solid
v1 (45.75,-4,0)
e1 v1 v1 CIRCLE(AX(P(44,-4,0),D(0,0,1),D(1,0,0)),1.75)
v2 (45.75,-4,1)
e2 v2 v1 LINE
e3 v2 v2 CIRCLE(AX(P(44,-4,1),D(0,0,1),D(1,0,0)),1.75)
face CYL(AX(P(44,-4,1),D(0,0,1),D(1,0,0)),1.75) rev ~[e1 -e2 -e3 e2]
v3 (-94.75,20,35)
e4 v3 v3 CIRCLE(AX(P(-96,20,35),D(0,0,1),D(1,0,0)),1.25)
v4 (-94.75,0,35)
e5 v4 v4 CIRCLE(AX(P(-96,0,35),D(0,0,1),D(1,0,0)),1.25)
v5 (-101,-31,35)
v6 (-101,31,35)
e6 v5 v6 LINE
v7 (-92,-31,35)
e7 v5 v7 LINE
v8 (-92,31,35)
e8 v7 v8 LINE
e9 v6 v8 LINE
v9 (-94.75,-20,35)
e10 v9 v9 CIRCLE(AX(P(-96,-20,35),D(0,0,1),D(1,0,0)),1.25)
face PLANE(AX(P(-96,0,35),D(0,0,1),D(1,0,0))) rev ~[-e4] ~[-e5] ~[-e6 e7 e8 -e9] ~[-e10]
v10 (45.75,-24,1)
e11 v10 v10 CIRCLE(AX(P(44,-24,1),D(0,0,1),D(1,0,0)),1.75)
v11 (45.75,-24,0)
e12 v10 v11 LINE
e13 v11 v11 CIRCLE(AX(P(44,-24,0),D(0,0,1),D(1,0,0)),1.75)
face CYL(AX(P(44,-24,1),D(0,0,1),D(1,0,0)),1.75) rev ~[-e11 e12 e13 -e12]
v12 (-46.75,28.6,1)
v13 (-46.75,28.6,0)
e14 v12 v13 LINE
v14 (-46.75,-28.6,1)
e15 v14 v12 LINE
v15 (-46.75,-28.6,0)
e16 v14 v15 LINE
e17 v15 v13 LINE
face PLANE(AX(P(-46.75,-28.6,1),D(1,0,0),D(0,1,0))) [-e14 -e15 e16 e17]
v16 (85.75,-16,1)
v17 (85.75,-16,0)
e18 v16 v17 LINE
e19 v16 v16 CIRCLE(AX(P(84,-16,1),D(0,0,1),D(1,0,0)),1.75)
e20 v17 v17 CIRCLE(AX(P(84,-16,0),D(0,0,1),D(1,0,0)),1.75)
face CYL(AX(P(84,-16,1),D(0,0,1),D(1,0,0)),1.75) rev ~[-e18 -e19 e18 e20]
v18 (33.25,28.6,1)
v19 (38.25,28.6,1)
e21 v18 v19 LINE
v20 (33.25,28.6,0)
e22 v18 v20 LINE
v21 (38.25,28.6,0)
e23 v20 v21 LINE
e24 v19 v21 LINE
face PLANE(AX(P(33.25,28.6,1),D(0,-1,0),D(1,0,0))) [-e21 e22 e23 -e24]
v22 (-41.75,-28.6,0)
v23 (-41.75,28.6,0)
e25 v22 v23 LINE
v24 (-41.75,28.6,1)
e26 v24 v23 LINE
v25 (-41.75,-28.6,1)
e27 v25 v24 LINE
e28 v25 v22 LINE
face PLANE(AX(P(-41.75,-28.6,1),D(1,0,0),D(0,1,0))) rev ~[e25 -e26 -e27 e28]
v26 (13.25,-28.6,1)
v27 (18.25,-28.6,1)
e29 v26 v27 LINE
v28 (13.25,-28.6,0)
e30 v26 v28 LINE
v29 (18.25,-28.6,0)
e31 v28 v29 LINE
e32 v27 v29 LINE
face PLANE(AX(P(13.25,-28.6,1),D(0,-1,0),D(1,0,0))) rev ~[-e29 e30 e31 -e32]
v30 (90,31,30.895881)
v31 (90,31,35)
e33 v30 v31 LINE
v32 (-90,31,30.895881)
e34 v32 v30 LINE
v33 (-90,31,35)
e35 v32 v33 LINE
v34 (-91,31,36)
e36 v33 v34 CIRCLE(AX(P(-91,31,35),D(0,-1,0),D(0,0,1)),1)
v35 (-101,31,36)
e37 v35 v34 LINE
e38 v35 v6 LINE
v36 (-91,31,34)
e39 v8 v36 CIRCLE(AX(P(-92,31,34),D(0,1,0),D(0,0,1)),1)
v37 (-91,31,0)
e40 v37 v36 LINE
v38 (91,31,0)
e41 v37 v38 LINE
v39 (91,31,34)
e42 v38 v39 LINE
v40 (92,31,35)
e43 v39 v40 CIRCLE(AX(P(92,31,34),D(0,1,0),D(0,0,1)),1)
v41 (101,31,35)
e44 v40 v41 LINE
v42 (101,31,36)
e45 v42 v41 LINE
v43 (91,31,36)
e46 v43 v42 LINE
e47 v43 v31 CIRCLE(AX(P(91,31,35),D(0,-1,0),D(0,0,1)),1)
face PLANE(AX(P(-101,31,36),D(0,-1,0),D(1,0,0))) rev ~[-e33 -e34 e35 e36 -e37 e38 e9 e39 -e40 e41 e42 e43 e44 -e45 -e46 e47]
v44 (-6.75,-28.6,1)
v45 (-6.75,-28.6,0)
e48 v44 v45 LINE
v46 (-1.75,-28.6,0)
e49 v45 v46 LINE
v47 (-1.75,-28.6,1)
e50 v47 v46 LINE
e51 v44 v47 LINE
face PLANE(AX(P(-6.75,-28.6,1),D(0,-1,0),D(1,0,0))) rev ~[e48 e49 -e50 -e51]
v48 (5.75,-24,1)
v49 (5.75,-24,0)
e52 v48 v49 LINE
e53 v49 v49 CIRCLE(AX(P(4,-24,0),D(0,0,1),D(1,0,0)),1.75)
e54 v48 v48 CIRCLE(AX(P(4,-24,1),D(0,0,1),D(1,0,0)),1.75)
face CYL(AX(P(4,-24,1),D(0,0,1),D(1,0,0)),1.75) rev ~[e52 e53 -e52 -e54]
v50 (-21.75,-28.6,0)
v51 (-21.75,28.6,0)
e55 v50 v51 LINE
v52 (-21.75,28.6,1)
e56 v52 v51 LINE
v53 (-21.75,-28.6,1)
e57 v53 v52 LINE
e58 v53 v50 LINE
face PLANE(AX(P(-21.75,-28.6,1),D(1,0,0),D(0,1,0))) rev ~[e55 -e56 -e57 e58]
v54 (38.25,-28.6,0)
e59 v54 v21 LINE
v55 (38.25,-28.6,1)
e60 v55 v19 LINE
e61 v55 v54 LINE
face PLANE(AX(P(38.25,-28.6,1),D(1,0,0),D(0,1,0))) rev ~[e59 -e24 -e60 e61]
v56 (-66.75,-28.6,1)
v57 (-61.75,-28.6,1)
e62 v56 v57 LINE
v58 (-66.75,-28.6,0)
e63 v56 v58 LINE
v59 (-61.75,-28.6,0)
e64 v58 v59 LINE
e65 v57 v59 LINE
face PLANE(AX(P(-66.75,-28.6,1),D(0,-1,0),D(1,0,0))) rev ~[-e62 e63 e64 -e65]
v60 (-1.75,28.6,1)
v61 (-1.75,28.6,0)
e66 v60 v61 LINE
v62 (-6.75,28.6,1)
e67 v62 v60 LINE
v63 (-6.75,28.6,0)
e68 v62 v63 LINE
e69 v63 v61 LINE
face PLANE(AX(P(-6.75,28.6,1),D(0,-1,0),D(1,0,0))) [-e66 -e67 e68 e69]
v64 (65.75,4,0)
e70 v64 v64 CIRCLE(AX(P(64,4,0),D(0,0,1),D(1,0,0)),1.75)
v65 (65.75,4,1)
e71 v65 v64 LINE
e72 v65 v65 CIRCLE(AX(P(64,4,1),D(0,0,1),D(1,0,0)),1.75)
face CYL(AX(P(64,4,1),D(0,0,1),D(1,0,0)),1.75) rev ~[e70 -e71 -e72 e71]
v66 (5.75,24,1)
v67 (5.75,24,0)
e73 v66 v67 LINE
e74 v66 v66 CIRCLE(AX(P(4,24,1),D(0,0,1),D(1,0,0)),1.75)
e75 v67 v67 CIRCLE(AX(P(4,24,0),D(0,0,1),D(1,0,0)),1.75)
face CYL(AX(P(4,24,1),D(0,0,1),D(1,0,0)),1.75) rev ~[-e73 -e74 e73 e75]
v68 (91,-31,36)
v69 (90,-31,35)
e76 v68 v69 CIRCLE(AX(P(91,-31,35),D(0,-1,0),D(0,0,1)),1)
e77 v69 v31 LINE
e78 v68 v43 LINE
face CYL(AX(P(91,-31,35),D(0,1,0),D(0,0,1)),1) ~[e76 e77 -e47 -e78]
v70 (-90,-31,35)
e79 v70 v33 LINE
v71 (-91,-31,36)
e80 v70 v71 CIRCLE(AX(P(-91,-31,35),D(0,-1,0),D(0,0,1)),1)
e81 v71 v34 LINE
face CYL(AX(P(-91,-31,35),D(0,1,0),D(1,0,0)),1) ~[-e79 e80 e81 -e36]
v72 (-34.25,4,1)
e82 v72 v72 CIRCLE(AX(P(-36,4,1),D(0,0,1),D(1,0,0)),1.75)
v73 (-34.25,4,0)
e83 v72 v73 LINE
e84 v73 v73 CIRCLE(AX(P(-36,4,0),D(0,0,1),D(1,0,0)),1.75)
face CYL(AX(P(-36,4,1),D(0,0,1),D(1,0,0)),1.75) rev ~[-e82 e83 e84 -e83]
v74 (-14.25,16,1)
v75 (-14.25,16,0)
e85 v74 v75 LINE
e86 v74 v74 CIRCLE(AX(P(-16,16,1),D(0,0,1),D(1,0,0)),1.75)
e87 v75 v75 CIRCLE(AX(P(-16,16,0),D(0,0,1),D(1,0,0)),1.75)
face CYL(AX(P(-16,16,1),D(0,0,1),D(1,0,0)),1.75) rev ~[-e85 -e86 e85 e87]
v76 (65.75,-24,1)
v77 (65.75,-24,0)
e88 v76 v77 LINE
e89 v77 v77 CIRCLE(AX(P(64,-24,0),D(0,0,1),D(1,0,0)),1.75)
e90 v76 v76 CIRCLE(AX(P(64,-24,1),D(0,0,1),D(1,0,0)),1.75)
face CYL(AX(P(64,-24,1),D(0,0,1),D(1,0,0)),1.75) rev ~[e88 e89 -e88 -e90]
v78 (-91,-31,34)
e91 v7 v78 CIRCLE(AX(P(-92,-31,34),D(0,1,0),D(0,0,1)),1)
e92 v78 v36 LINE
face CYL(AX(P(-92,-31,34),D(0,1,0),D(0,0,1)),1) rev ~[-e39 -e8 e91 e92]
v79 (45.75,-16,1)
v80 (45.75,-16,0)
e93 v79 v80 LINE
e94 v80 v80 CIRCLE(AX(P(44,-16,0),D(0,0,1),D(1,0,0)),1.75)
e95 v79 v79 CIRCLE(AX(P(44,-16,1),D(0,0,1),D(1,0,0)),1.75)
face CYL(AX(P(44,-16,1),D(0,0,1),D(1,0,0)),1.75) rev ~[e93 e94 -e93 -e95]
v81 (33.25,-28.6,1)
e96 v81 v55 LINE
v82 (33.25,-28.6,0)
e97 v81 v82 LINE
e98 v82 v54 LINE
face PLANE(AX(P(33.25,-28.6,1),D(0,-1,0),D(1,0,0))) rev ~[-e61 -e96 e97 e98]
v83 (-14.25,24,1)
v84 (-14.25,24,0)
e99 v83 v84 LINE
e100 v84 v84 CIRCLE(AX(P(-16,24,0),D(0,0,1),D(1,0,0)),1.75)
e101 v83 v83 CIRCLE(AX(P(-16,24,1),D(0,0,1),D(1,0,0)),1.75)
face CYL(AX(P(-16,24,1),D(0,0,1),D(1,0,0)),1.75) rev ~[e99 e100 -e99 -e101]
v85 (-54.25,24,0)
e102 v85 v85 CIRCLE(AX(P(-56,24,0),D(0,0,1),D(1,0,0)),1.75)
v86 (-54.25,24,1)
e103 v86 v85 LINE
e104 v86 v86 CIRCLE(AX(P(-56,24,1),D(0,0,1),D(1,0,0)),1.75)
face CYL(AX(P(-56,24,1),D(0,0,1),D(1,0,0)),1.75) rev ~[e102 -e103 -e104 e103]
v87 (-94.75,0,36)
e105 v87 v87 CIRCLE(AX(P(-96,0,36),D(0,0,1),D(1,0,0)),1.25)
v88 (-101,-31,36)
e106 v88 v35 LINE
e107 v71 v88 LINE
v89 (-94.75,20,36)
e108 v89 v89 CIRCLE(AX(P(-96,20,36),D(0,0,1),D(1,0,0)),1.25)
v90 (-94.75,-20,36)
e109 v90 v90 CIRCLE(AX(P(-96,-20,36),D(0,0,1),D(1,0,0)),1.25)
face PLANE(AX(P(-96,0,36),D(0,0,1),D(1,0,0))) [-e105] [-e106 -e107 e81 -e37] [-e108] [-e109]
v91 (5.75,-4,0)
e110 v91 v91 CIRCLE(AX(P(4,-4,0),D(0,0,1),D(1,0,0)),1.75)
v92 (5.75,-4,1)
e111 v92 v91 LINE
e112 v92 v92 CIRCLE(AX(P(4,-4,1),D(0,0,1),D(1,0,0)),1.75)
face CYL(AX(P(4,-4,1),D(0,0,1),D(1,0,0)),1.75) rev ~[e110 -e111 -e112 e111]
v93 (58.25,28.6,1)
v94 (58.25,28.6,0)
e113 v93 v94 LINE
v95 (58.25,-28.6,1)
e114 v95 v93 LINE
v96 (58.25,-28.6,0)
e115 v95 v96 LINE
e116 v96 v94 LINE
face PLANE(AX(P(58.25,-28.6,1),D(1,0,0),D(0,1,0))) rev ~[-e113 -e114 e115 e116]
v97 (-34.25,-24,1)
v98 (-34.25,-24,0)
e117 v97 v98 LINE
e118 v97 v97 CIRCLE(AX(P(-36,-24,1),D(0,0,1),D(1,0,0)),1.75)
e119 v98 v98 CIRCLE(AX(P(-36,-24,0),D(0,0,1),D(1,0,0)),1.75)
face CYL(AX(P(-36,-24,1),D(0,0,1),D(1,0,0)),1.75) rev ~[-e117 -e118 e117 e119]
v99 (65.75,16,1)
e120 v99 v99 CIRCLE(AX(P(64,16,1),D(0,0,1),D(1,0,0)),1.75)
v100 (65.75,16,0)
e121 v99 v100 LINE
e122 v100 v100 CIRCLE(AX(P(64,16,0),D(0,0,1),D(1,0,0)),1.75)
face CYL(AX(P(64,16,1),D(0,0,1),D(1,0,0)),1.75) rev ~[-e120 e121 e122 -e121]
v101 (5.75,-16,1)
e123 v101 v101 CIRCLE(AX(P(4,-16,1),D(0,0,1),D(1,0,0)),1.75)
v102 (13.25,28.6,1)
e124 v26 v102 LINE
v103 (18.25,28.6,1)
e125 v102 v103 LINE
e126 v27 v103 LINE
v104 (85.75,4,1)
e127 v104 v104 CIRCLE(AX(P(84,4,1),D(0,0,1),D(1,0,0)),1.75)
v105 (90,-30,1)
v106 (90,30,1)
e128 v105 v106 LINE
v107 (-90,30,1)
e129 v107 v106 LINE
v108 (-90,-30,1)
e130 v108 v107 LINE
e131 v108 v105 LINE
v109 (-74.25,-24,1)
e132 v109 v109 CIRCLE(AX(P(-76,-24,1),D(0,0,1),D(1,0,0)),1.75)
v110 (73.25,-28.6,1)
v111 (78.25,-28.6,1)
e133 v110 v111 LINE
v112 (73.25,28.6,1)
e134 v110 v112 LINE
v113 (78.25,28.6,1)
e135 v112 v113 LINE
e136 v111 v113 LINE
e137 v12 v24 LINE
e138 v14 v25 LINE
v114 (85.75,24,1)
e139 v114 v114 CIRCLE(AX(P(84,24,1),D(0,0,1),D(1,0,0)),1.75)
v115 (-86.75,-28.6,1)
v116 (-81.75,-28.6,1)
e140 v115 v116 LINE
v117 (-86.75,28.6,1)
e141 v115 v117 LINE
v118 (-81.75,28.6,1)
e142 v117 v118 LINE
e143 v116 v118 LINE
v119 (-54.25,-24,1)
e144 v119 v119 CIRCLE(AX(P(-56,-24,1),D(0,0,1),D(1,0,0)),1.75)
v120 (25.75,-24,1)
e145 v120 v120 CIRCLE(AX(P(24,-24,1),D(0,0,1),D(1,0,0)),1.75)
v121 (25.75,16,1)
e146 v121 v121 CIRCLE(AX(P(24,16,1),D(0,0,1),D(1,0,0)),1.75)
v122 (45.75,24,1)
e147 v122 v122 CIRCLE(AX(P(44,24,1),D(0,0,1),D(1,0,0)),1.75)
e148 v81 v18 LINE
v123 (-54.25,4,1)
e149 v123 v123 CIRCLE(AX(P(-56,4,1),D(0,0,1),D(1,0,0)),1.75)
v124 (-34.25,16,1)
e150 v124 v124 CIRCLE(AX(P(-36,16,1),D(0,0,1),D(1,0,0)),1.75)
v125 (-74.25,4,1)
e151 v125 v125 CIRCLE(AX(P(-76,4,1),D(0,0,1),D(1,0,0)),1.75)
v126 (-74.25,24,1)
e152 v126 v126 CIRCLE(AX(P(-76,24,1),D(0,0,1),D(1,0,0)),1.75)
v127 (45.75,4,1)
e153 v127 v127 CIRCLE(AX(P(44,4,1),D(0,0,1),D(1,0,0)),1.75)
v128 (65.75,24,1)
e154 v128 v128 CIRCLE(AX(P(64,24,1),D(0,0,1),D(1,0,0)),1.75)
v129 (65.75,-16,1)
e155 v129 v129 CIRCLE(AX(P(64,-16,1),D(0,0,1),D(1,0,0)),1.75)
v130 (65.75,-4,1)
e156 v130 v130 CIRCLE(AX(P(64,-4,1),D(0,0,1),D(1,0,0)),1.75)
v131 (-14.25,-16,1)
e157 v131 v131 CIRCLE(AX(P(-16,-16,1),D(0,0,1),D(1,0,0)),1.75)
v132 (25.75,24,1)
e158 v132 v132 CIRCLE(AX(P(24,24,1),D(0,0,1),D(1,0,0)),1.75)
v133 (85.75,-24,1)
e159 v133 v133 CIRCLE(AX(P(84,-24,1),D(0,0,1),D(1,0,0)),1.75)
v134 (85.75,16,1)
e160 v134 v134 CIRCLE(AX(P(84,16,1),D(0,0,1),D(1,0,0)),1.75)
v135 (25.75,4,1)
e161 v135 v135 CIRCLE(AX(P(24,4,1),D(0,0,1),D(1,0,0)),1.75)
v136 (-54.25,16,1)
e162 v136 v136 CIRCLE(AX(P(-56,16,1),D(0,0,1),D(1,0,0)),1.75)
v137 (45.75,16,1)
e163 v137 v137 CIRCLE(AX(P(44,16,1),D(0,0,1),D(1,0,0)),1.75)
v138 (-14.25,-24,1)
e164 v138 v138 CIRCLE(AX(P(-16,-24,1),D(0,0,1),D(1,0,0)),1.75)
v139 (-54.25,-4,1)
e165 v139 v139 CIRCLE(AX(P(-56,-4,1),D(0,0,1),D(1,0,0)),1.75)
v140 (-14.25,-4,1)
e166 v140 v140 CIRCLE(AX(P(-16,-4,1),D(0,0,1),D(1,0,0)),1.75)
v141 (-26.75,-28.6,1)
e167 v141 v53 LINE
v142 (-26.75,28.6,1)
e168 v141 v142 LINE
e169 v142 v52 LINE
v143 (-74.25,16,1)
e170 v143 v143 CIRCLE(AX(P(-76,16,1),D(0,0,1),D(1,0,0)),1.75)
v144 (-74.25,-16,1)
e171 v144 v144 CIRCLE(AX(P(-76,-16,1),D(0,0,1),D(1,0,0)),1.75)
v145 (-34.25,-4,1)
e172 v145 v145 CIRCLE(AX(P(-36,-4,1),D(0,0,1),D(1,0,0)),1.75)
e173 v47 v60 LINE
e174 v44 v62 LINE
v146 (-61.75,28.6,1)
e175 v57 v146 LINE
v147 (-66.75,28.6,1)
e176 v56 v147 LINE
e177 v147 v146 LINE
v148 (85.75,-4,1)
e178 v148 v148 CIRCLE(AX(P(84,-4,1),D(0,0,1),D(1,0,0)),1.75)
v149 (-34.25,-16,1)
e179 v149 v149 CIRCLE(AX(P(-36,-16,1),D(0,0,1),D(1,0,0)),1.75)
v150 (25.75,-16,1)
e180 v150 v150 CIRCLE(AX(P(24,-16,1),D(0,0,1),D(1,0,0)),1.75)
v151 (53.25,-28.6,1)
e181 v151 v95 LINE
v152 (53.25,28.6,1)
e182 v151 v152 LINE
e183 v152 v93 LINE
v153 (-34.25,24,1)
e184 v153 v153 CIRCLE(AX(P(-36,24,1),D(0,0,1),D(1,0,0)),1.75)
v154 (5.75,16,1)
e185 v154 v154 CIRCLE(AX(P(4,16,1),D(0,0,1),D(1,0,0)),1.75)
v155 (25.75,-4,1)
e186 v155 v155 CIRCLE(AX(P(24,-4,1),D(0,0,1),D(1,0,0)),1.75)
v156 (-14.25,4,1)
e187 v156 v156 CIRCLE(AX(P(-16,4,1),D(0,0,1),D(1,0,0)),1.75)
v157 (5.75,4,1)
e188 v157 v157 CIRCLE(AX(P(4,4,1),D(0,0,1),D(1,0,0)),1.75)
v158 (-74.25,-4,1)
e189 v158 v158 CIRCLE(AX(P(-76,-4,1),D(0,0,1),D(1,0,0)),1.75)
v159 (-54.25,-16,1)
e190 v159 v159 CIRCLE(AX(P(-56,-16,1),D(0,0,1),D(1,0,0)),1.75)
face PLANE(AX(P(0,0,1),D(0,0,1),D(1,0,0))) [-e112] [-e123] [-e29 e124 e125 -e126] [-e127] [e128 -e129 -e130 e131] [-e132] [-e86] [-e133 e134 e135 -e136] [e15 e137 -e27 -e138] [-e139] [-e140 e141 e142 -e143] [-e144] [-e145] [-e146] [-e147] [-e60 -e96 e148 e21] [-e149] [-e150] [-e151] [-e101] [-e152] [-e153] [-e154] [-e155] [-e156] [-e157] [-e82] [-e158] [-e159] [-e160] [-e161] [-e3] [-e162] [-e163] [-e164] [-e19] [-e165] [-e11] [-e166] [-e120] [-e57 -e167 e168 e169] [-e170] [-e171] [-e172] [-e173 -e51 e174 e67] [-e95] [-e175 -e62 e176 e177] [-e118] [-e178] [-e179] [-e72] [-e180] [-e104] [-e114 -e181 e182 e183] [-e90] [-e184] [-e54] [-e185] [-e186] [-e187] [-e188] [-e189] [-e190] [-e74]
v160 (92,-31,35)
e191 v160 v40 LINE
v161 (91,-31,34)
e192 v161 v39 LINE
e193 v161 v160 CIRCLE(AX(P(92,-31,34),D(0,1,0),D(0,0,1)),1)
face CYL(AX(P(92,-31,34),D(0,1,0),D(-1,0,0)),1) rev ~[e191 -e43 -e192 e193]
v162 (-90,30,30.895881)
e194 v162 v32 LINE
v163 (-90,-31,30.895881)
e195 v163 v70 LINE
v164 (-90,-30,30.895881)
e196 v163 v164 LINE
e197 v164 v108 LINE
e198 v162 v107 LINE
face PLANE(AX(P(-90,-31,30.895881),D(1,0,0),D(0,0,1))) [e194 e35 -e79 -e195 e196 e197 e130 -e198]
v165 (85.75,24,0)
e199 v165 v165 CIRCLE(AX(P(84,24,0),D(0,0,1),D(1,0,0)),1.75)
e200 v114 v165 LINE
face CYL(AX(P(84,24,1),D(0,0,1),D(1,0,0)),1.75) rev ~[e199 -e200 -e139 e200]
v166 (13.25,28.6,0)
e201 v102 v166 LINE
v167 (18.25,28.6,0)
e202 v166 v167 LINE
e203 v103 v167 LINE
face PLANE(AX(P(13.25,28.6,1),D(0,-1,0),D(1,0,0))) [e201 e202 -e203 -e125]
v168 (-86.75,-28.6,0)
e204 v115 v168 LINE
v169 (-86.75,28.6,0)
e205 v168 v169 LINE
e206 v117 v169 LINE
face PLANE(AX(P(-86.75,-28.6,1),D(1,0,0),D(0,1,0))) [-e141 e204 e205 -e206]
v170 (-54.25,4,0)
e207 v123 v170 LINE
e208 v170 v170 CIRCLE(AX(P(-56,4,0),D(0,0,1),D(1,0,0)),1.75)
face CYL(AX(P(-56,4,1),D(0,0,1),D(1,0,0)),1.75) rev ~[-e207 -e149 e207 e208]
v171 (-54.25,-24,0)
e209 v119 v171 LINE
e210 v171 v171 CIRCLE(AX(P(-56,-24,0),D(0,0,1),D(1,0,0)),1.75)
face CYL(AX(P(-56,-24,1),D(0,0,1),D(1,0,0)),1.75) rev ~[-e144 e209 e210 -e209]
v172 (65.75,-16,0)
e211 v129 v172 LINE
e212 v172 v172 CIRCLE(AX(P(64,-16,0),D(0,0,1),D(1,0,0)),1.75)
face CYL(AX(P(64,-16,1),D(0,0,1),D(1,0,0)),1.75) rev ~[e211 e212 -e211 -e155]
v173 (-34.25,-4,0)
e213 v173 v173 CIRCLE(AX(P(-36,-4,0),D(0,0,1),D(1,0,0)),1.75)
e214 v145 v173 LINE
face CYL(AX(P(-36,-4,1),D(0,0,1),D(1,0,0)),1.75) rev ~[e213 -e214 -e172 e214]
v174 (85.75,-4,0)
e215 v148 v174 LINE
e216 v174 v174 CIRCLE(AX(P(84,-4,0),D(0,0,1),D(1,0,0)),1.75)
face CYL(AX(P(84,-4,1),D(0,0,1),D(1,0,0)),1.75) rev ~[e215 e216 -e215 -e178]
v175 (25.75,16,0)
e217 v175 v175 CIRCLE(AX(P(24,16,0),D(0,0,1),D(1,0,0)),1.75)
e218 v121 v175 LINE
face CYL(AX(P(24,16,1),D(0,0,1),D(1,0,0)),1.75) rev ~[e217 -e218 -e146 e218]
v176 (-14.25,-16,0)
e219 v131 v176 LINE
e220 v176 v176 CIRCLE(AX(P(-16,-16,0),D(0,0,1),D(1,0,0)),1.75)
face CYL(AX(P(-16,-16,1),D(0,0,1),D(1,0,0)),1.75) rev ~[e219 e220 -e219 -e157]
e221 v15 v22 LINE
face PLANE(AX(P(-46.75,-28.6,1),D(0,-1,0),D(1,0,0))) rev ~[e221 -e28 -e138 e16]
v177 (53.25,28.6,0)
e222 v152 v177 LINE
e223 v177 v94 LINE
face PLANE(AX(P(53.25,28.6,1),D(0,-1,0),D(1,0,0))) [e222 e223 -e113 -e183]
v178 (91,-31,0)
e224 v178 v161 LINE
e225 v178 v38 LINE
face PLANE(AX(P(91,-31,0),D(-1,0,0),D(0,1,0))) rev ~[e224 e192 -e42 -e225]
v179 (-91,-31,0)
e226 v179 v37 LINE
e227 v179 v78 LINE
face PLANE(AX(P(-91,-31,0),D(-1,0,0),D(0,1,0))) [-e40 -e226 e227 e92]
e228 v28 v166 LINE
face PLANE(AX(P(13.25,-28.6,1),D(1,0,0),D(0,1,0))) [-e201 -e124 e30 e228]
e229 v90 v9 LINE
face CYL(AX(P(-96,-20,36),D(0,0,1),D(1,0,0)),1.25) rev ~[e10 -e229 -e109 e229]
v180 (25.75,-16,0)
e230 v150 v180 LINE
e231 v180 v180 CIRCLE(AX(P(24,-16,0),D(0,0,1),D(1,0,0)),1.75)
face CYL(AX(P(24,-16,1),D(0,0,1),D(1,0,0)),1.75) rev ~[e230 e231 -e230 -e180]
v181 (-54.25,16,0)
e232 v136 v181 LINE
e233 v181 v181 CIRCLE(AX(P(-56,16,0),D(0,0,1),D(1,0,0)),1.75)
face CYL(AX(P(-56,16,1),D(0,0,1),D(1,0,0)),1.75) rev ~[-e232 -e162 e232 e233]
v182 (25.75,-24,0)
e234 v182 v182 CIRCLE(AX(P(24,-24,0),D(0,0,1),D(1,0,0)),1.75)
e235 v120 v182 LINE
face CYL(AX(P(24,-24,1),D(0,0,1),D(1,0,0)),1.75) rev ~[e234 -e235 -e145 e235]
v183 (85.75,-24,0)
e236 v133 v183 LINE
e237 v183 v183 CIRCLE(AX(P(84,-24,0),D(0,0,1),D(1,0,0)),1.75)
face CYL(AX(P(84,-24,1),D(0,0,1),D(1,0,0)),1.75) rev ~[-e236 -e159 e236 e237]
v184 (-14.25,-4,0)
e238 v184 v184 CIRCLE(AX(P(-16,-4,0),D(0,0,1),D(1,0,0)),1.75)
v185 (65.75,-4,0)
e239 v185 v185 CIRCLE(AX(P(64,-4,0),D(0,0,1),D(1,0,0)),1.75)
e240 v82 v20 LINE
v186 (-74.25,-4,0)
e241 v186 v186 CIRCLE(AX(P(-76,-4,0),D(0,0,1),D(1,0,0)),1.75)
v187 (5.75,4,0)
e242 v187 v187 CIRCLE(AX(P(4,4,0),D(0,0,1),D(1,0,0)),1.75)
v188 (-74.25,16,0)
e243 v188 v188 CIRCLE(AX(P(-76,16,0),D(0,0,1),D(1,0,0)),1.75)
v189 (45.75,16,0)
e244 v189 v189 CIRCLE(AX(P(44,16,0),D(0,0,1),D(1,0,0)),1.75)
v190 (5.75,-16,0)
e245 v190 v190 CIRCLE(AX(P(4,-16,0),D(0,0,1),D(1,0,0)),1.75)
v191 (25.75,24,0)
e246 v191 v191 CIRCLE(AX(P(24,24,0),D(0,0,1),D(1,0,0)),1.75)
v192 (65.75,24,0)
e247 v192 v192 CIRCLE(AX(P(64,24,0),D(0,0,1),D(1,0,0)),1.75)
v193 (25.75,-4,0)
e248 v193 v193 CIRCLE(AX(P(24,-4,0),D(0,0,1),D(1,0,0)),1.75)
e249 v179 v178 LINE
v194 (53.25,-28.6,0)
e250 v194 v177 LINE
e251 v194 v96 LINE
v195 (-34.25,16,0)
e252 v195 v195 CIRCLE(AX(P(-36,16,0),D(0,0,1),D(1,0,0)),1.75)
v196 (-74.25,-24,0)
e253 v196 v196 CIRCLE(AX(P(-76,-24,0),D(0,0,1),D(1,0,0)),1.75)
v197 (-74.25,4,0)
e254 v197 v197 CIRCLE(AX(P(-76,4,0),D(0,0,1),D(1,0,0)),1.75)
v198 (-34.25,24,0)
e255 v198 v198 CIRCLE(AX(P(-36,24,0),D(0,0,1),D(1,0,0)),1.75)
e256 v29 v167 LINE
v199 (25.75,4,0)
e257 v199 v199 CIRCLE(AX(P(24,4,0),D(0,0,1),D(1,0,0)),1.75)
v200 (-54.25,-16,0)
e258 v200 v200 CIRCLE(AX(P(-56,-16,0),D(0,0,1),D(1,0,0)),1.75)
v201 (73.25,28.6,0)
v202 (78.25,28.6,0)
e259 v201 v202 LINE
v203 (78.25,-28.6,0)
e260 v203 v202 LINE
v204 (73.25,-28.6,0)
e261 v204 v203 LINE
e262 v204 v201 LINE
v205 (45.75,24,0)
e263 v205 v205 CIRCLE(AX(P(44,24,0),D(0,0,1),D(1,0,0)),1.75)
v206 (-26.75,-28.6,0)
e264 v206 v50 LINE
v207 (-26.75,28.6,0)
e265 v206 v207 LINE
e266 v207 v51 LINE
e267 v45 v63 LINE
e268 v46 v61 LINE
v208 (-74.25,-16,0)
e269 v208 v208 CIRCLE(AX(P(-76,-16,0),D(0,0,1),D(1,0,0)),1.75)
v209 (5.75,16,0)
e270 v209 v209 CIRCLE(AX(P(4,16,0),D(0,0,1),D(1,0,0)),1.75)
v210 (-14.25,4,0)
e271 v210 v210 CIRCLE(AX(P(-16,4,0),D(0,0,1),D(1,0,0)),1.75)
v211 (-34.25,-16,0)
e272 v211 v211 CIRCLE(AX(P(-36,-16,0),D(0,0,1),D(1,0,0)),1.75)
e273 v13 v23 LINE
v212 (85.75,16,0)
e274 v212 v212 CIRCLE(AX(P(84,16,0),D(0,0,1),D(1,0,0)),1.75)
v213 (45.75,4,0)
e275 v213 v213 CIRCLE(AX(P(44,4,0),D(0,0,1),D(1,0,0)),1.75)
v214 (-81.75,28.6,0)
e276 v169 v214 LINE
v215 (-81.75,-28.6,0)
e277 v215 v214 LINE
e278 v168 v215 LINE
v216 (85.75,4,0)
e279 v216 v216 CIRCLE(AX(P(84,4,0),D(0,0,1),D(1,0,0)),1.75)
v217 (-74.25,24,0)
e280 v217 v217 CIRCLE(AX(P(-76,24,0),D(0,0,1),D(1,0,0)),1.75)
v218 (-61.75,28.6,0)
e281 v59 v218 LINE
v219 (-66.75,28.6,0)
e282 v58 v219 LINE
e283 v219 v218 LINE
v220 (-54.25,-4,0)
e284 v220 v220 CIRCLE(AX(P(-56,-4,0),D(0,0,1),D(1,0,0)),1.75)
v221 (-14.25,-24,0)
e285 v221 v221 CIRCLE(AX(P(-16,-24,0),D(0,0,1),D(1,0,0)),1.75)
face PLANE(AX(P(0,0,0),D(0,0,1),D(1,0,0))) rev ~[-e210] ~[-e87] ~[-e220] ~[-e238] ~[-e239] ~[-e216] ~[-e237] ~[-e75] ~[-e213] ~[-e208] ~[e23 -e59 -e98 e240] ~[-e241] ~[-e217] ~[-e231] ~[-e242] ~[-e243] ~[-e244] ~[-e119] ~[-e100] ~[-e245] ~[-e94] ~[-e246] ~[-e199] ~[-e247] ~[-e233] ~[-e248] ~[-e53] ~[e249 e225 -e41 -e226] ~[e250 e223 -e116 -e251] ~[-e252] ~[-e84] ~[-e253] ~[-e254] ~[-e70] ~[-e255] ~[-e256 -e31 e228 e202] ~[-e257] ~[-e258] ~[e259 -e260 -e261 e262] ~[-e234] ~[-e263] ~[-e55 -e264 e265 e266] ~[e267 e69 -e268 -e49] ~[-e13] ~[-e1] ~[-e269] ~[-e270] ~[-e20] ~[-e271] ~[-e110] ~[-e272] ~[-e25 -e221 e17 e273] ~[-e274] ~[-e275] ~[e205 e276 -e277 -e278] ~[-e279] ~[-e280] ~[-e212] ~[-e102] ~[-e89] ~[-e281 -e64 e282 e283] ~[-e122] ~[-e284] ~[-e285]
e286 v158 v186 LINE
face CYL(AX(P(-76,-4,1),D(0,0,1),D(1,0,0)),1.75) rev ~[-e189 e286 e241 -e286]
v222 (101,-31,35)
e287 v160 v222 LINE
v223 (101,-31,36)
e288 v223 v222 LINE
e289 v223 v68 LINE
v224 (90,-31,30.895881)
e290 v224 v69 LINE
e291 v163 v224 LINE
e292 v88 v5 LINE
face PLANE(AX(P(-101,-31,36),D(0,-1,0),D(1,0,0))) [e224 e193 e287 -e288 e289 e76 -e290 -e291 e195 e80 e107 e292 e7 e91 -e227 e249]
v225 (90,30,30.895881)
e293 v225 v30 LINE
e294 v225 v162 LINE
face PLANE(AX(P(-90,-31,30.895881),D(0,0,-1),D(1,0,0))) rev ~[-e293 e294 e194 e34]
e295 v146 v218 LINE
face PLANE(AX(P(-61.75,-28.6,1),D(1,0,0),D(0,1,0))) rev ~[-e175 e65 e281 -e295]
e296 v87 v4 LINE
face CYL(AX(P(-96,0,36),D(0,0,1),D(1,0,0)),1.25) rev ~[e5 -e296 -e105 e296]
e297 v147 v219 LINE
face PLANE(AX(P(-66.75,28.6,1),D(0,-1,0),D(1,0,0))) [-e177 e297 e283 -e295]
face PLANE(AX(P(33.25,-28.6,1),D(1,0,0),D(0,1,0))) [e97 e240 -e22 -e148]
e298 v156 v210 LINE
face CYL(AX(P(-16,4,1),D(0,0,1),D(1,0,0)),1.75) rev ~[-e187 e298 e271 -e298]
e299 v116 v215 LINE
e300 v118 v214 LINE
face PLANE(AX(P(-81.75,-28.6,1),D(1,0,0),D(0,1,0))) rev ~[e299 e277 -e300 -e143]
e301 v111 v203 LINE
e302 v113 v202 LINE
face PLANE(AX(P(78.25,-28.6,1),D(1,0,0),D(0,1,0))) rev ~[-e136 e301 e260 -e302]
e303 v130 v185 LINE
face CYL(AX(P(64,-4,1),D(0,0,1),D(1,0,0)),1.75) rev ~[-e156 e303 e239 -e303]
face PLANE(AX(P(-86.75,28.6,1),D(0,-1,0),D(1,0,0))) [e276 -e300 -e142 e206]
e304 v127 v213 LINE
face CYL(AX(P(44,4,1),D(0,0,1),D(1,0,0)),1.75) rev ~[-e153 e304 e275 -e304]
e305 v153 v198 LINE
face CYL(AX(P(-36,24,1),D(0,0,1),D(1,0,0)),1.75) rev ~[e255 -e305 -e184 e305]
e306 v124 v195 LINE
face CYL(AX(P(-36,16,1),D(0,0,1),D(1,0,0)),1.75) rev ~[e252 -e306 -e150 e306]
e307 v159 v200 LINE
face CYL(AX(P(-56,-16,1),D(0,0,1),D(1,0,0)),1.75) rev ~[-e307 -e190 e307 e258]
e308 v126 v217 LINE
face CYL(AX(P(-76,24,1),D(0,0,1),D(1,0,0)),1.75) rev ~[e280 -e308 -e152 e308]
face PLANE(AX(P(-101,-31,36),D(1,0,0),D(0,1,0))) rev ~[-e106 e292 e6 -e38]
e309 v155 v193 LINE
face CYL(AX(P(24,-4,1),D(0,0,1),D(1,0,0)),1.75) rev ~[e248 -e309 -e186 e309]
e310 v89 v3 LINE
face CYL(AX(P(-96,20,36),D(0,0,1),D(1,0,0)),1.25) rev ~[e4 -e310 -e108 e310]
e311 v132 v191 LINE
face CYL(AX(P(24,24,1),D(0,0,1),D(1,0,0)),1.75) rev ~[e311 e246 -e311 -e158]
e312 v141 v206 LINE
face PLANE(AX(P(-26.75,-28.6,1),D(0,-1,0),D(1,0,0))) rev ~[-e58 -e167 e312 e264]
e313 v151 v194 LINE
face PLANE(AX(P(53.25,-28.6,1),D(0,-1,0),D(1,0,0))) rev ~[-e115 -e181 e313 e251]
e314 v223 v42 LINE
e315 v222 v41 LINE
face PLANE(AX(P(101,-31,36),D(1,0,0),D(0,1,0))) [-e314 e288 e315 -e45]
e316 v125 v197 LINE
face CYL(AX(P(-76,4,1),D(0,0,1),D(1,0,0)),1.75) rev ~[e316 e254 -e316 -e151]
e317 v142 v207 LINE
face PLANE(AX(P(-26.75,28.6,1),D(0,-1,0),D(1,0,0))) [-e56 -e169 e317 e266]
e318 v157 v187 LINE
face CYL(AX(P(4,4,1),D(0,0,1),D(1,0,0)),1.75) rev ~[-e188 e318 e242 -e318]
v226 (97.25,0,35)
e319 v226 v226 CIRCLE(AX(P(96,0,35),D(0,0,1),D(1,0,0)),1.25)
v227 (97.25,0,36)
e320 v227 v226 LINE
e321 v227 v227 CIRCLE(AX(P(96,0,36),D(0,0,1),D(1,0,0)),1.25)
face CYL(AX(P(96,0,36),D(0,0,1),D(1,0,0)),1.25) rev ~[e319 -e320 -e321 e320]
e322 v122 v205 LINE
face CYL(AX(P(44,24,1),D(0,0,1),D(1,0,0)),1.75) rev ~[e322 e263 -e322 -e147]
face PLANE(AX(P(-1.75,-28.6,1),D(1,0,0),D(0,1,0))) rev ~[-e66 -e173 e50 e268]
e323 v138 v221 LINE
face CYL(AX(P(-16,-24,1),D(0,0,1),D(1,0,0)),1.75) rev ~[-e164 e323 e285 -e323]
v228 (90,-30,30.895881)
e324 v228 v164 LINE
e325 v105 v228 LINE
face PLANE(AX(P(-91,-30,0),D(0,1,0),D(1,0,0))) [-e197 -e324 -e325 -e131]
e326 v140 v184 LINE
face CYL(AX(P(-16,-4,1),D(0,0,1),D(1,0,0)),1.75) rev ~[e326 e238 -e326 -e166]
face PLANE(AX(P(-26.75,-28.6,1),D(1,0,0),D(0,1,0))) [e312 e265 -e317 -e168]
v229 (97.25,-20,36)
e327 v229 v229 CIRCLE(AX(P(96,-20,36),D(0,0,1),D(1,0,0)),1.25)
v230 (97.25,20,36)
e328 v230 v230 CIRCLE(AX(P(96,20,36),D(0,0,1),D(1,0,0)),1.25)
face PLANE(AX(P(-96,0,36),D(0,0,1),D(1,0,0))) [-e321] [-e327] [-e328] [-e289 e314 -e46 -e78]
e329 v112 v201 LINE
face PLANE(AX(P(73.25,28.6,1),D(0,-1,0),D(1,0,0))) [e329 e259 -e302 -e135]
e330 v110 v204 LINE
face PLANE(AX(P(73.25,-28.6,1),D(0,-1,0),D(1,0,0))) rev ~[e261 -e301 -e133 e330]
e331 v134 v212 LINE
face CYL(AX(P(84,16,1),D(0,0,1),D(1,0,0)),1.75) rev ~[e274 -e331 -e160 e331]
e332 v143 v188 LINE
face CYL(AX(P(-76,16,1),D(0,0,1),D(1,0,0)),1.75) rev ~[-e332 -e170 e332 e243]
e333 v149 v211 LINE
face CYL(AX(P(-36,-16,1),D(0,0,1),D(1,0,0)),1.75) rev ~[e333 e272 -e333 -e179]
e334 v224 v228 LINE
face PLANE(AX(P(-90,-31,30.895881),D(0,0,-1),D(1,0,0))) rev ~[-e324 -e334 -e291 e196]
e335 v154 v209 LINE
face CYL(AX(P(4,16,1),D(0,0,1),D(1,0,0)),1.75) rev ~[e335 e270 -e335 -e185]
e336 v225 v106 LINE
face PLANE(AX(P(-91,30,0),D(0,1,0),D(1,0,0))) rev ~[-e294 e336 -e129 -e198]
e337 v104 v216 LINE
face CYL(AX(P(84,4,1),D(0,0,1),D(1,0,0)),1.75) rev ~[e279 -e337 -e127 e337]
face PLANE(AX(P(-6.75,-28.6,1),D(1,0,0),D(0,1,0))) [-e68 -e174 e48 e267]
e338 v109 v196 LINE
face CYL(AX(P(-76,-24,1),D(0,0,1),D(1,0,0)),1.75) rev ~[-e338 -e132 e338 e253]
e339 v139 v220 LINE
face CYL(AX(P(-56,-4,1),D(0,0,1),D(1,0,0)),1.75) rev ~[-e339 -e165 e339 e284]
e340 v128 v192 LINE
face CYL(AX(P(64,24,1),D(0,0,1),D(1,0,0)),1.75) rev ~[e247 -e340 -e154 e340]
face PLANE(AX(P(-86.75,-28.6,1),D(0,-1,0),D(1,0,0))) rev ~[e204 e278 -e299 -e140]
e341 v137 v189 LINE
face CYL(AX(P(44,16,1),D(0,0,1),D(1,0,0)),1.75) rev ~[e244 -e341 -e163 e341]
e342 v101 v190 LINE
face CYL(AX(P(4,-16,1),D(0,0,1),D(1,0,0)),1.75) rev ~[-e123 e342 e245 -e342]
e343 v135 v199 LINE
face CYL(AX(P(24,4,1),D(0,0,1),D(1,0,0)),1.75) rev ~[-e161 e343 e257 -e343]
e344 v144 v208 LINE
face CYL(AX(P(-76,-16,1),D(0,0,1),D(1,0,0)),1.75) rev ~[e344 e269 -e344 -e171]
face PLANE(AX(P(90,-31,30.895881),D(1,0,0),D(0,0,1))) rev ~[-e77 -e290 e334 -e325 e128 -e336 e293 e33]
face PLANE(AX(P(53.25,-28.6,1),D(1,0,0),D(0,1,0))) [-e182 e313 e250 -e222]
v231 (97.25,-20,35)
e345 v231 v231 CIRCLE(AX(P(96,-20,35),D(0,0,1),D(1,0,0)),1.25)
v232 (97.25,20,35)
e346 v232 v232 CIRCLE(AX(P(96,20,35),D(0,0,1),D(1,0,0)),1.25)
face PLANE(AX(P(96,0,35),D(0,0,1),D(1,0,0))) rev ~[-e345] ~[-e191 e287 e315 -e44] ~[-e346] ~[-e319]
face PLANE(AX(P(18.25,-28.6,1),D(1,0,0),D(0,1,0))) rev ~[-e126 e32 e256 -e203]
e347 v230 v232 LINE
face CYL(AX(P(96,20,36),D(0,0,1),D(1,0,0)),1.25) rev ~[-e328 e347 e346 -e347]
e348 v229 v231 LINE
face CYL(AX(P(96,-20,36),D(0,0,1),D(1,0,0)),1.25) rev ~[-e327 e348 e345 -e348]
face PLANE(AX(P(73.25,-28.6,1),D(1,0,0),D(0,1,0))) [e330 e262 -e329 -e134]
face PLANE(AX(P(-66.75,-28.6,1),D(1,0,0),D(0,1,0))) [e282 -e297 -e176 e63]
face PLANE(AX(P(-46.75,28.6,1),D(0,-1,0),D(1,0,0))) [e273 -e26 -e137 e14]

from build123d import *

# Parameters (mm, degrees)
F0_W     = 182
F0_H     = 62
F1_DEPTH = 36
F2_T     = -1
F3_W     = 10
F3_H     = 62
F3_R     = 1.25
F4_DEPTH = 1
F5_W     = 180
F5_H     = 8.6886398494
F6_DEPTH = 70
F7_R     = 1
F8_R     = 1.75
F8_W     = 5
F8_H     = 57.2
F9_DEPTH = 25


with BuildPart() as f1:
    # F0 (on Top) → F1 (new body)
    with BuildSketch(Plane.XY):
        Rectangle(F0_W, F0_H)
    extrude(amount=F1_DEPTH)

    # F2
    f2_openings = [f1.faces().sort_by_distance(p)[0] for p in [
        (0, 0, 36),
    ]]
    offset(amount=F2_T, openings=f2_openings)

    # F3 (on face) → F4 (join)
    with BuildSketch(Plane.XY.offset(36)):
        with Locations((-96, 0)):
            Rectangle(F3_W, F3_H)
        with Locations((-96, -20)):
            Circle(F3_R, mode=Mode.SUBTRACT)
        with Locations((-96, 0)):
            Circle(F3_R, mode=Mode.SUBTRACT)
        with Locations((-96, 20)):
            Circle(F3_R, mode=Mode.SUBTRACT)
        with Locations((96, 0)):
            Rectangle(F3_W, F3_H)
        with Locations((96, -20)):
            Circle(F3_R, mode=Mode.SUBTRACT)
        with Locations((96, 0)):
            Circle(F3_R, mode=Mode.SUBTRACT)
        with Locations((96, 20)):
            Circle(F3_R, mode=Mode.SUBTRACT)
    extrude(amount=-F4_DEPTH)

    # F5 (on face) → F6 (cut)
    with BuildSketch(Plane.XZ.offset(31)):
        with Locations((0, 35.2402012795)):
            Rectangle(F5_W, F5_H)
    extrude(amount=-F6_DEPTH, mode=Mode.SUBTRACT)

    # F7
    f7_edges = [f1.edges().sort_by_distance(p)[0] for p in [
        (-90, 0, 36),
        (-91, 0, 35),
        (90, 0, 36),
        (91, 0, 35),
    ]]
    fillet(f7_edges, radius=F7_R)

    # F8 (on face) → F9 (cut)
    with BuildSketch(Plane.XY.offset(1)):
        with Locations((-76, 24)):
            Circle(F8_R)
        with Locations((-76, 16)):
            Circle(F8_R)
        with Locations((-76, 4)):
            Circle(F8_R)
        with Locations((-76, -4)):
            Circle(F8_R)
        with Locations((-76, -16)):
            Circle(F8_R)
        with Locations((-76, -24)):
            Circle(F8_R)
        with Locations((-56, 24)):
            Circle(F8_R)
        with Locations((-56, 16)):
            Circle(F8_R)
        with Locations((-56, 4)):
            Circle(F8_R)
        with Locations((-56, -4)):
            Circle(F8_R)
        with Locations((-56, -16)):
            Circle(F8_R)
        with Locations((-56, -24)):
            Circle(F8_R)
        with Locations((-36, 24)):
            Circle(F8_R)
        with Locations((-36, 16)):
            Circle(F8_R)
        with Locations((-36, 4)):
            Circle(F8_R)
        with Locations((-36, -4)):
            Circle(F8_R)
        with Locations((-36, -16)):
            Circle(F8_R)
        with Locations((-36, -24)):
            Circle(F8_R)
        with Locations((-16, 24)):
            Circle(F8_R)
        with Locations((-16, 16)):
            Circle(F8_R)
        with Locations((-16, 4)):
            Circle(F8_R)
        with Locations((-16, -4)):
            Circle(F8_R)
        with Locations((-16, -16)):
            Circle(F8_R)
        with Locations((-16, -24)):
            Circle(F8_R)
        with Locations((4, 24)):
            Circle(F8_R)
        with Locations((4, 16)):
            Circle(F8_R)
        with Locations((4, 4)):
            Circle(F8_R)
        with Locations((4, -4)):
            Circle(F8_R)
        with Locations((4, -16)):
            Circle(F8_R)
        with Locations((4, -24)):
            Circle(F8_R)
        with Locations((24, 24)):
            Circle(F8_R)
        with Locations((24, 16)):
            Circle(F8_R)
        with Locations((24, 4)):
            Circle(F8_R)
        with Locations((24, -4)):
            Circle(F8_R)
        with Locations((24, -16)):
            Circle(F8_R)
        with Locations((24, -24)):
            Circle(F8_R)
        with Locations((44, 24)):
            Circle(F8_R)
        with Locations((44, 16)):
            Circle(F8_R)
        with Locations((44, 4)):
            Circle(F8_R)
        with Locations((44, -4)):
            Circle(F8_R)
        with Locations((44, -16)):
            Circle(F8_R)
        with Locations((44, -24)):
            Circle(F8_R)
        with Locations((64, 24)):
            Circle(F8_R)
        with Locations((64, 16)):
            Circle(F8_R)
        with Locations((64, 4)):
            Circle(F8_R)
        with Locations((64, -4)):
            Circle(F8_R)
        with Locations((64, -16)):
            Circle(F8_R)
        with Locations((64, -24)):
            Circle(F8_R)
        with Locations((84, 24)):
            Circle(F8_R)
        with Locations((84, 16)):
            Circle(F8_R)
        with Locations((84, 4)):
            Circle(F8_R)
        with Locations((84, -4)):
            Circle(F8_R)
        with Locations((84, -16)):
            Circle(F8_R)
        with Locations((84, -24)):
            Circle(F8_R)
        with Locations((-84.25, 0)):
            Rectangle(F8_W, F8_H)
        with Locations((-64.25, 0)):
            Rectangle(F8_W, F8_H)
        with Locations((-44.25, 0)):
            Rectangle(F8_W, F8_H)
        with Locations((-24.25, 0)):
            Rectangle(F8_W, F8_H)
        with Locations((-4.25, 0)):
            Rectangle(F8_W, F8_H)
        with Locations((15.75, 0)):
            Rectangle(F8_W, F8_H)
        with Locations((35.75, 0)):
            Rectangle(F8_W, F8_H)
        with Locations((55.75, 0)):
            Rectangle(F8_W, F8_H)
        with Locations((75.75, 0)):
            Rectangle(F8_W, F8_H)
    extrude(amount=-F9_DEPTH, mode=Mode.SUBTRACT)


solid = f1.part
